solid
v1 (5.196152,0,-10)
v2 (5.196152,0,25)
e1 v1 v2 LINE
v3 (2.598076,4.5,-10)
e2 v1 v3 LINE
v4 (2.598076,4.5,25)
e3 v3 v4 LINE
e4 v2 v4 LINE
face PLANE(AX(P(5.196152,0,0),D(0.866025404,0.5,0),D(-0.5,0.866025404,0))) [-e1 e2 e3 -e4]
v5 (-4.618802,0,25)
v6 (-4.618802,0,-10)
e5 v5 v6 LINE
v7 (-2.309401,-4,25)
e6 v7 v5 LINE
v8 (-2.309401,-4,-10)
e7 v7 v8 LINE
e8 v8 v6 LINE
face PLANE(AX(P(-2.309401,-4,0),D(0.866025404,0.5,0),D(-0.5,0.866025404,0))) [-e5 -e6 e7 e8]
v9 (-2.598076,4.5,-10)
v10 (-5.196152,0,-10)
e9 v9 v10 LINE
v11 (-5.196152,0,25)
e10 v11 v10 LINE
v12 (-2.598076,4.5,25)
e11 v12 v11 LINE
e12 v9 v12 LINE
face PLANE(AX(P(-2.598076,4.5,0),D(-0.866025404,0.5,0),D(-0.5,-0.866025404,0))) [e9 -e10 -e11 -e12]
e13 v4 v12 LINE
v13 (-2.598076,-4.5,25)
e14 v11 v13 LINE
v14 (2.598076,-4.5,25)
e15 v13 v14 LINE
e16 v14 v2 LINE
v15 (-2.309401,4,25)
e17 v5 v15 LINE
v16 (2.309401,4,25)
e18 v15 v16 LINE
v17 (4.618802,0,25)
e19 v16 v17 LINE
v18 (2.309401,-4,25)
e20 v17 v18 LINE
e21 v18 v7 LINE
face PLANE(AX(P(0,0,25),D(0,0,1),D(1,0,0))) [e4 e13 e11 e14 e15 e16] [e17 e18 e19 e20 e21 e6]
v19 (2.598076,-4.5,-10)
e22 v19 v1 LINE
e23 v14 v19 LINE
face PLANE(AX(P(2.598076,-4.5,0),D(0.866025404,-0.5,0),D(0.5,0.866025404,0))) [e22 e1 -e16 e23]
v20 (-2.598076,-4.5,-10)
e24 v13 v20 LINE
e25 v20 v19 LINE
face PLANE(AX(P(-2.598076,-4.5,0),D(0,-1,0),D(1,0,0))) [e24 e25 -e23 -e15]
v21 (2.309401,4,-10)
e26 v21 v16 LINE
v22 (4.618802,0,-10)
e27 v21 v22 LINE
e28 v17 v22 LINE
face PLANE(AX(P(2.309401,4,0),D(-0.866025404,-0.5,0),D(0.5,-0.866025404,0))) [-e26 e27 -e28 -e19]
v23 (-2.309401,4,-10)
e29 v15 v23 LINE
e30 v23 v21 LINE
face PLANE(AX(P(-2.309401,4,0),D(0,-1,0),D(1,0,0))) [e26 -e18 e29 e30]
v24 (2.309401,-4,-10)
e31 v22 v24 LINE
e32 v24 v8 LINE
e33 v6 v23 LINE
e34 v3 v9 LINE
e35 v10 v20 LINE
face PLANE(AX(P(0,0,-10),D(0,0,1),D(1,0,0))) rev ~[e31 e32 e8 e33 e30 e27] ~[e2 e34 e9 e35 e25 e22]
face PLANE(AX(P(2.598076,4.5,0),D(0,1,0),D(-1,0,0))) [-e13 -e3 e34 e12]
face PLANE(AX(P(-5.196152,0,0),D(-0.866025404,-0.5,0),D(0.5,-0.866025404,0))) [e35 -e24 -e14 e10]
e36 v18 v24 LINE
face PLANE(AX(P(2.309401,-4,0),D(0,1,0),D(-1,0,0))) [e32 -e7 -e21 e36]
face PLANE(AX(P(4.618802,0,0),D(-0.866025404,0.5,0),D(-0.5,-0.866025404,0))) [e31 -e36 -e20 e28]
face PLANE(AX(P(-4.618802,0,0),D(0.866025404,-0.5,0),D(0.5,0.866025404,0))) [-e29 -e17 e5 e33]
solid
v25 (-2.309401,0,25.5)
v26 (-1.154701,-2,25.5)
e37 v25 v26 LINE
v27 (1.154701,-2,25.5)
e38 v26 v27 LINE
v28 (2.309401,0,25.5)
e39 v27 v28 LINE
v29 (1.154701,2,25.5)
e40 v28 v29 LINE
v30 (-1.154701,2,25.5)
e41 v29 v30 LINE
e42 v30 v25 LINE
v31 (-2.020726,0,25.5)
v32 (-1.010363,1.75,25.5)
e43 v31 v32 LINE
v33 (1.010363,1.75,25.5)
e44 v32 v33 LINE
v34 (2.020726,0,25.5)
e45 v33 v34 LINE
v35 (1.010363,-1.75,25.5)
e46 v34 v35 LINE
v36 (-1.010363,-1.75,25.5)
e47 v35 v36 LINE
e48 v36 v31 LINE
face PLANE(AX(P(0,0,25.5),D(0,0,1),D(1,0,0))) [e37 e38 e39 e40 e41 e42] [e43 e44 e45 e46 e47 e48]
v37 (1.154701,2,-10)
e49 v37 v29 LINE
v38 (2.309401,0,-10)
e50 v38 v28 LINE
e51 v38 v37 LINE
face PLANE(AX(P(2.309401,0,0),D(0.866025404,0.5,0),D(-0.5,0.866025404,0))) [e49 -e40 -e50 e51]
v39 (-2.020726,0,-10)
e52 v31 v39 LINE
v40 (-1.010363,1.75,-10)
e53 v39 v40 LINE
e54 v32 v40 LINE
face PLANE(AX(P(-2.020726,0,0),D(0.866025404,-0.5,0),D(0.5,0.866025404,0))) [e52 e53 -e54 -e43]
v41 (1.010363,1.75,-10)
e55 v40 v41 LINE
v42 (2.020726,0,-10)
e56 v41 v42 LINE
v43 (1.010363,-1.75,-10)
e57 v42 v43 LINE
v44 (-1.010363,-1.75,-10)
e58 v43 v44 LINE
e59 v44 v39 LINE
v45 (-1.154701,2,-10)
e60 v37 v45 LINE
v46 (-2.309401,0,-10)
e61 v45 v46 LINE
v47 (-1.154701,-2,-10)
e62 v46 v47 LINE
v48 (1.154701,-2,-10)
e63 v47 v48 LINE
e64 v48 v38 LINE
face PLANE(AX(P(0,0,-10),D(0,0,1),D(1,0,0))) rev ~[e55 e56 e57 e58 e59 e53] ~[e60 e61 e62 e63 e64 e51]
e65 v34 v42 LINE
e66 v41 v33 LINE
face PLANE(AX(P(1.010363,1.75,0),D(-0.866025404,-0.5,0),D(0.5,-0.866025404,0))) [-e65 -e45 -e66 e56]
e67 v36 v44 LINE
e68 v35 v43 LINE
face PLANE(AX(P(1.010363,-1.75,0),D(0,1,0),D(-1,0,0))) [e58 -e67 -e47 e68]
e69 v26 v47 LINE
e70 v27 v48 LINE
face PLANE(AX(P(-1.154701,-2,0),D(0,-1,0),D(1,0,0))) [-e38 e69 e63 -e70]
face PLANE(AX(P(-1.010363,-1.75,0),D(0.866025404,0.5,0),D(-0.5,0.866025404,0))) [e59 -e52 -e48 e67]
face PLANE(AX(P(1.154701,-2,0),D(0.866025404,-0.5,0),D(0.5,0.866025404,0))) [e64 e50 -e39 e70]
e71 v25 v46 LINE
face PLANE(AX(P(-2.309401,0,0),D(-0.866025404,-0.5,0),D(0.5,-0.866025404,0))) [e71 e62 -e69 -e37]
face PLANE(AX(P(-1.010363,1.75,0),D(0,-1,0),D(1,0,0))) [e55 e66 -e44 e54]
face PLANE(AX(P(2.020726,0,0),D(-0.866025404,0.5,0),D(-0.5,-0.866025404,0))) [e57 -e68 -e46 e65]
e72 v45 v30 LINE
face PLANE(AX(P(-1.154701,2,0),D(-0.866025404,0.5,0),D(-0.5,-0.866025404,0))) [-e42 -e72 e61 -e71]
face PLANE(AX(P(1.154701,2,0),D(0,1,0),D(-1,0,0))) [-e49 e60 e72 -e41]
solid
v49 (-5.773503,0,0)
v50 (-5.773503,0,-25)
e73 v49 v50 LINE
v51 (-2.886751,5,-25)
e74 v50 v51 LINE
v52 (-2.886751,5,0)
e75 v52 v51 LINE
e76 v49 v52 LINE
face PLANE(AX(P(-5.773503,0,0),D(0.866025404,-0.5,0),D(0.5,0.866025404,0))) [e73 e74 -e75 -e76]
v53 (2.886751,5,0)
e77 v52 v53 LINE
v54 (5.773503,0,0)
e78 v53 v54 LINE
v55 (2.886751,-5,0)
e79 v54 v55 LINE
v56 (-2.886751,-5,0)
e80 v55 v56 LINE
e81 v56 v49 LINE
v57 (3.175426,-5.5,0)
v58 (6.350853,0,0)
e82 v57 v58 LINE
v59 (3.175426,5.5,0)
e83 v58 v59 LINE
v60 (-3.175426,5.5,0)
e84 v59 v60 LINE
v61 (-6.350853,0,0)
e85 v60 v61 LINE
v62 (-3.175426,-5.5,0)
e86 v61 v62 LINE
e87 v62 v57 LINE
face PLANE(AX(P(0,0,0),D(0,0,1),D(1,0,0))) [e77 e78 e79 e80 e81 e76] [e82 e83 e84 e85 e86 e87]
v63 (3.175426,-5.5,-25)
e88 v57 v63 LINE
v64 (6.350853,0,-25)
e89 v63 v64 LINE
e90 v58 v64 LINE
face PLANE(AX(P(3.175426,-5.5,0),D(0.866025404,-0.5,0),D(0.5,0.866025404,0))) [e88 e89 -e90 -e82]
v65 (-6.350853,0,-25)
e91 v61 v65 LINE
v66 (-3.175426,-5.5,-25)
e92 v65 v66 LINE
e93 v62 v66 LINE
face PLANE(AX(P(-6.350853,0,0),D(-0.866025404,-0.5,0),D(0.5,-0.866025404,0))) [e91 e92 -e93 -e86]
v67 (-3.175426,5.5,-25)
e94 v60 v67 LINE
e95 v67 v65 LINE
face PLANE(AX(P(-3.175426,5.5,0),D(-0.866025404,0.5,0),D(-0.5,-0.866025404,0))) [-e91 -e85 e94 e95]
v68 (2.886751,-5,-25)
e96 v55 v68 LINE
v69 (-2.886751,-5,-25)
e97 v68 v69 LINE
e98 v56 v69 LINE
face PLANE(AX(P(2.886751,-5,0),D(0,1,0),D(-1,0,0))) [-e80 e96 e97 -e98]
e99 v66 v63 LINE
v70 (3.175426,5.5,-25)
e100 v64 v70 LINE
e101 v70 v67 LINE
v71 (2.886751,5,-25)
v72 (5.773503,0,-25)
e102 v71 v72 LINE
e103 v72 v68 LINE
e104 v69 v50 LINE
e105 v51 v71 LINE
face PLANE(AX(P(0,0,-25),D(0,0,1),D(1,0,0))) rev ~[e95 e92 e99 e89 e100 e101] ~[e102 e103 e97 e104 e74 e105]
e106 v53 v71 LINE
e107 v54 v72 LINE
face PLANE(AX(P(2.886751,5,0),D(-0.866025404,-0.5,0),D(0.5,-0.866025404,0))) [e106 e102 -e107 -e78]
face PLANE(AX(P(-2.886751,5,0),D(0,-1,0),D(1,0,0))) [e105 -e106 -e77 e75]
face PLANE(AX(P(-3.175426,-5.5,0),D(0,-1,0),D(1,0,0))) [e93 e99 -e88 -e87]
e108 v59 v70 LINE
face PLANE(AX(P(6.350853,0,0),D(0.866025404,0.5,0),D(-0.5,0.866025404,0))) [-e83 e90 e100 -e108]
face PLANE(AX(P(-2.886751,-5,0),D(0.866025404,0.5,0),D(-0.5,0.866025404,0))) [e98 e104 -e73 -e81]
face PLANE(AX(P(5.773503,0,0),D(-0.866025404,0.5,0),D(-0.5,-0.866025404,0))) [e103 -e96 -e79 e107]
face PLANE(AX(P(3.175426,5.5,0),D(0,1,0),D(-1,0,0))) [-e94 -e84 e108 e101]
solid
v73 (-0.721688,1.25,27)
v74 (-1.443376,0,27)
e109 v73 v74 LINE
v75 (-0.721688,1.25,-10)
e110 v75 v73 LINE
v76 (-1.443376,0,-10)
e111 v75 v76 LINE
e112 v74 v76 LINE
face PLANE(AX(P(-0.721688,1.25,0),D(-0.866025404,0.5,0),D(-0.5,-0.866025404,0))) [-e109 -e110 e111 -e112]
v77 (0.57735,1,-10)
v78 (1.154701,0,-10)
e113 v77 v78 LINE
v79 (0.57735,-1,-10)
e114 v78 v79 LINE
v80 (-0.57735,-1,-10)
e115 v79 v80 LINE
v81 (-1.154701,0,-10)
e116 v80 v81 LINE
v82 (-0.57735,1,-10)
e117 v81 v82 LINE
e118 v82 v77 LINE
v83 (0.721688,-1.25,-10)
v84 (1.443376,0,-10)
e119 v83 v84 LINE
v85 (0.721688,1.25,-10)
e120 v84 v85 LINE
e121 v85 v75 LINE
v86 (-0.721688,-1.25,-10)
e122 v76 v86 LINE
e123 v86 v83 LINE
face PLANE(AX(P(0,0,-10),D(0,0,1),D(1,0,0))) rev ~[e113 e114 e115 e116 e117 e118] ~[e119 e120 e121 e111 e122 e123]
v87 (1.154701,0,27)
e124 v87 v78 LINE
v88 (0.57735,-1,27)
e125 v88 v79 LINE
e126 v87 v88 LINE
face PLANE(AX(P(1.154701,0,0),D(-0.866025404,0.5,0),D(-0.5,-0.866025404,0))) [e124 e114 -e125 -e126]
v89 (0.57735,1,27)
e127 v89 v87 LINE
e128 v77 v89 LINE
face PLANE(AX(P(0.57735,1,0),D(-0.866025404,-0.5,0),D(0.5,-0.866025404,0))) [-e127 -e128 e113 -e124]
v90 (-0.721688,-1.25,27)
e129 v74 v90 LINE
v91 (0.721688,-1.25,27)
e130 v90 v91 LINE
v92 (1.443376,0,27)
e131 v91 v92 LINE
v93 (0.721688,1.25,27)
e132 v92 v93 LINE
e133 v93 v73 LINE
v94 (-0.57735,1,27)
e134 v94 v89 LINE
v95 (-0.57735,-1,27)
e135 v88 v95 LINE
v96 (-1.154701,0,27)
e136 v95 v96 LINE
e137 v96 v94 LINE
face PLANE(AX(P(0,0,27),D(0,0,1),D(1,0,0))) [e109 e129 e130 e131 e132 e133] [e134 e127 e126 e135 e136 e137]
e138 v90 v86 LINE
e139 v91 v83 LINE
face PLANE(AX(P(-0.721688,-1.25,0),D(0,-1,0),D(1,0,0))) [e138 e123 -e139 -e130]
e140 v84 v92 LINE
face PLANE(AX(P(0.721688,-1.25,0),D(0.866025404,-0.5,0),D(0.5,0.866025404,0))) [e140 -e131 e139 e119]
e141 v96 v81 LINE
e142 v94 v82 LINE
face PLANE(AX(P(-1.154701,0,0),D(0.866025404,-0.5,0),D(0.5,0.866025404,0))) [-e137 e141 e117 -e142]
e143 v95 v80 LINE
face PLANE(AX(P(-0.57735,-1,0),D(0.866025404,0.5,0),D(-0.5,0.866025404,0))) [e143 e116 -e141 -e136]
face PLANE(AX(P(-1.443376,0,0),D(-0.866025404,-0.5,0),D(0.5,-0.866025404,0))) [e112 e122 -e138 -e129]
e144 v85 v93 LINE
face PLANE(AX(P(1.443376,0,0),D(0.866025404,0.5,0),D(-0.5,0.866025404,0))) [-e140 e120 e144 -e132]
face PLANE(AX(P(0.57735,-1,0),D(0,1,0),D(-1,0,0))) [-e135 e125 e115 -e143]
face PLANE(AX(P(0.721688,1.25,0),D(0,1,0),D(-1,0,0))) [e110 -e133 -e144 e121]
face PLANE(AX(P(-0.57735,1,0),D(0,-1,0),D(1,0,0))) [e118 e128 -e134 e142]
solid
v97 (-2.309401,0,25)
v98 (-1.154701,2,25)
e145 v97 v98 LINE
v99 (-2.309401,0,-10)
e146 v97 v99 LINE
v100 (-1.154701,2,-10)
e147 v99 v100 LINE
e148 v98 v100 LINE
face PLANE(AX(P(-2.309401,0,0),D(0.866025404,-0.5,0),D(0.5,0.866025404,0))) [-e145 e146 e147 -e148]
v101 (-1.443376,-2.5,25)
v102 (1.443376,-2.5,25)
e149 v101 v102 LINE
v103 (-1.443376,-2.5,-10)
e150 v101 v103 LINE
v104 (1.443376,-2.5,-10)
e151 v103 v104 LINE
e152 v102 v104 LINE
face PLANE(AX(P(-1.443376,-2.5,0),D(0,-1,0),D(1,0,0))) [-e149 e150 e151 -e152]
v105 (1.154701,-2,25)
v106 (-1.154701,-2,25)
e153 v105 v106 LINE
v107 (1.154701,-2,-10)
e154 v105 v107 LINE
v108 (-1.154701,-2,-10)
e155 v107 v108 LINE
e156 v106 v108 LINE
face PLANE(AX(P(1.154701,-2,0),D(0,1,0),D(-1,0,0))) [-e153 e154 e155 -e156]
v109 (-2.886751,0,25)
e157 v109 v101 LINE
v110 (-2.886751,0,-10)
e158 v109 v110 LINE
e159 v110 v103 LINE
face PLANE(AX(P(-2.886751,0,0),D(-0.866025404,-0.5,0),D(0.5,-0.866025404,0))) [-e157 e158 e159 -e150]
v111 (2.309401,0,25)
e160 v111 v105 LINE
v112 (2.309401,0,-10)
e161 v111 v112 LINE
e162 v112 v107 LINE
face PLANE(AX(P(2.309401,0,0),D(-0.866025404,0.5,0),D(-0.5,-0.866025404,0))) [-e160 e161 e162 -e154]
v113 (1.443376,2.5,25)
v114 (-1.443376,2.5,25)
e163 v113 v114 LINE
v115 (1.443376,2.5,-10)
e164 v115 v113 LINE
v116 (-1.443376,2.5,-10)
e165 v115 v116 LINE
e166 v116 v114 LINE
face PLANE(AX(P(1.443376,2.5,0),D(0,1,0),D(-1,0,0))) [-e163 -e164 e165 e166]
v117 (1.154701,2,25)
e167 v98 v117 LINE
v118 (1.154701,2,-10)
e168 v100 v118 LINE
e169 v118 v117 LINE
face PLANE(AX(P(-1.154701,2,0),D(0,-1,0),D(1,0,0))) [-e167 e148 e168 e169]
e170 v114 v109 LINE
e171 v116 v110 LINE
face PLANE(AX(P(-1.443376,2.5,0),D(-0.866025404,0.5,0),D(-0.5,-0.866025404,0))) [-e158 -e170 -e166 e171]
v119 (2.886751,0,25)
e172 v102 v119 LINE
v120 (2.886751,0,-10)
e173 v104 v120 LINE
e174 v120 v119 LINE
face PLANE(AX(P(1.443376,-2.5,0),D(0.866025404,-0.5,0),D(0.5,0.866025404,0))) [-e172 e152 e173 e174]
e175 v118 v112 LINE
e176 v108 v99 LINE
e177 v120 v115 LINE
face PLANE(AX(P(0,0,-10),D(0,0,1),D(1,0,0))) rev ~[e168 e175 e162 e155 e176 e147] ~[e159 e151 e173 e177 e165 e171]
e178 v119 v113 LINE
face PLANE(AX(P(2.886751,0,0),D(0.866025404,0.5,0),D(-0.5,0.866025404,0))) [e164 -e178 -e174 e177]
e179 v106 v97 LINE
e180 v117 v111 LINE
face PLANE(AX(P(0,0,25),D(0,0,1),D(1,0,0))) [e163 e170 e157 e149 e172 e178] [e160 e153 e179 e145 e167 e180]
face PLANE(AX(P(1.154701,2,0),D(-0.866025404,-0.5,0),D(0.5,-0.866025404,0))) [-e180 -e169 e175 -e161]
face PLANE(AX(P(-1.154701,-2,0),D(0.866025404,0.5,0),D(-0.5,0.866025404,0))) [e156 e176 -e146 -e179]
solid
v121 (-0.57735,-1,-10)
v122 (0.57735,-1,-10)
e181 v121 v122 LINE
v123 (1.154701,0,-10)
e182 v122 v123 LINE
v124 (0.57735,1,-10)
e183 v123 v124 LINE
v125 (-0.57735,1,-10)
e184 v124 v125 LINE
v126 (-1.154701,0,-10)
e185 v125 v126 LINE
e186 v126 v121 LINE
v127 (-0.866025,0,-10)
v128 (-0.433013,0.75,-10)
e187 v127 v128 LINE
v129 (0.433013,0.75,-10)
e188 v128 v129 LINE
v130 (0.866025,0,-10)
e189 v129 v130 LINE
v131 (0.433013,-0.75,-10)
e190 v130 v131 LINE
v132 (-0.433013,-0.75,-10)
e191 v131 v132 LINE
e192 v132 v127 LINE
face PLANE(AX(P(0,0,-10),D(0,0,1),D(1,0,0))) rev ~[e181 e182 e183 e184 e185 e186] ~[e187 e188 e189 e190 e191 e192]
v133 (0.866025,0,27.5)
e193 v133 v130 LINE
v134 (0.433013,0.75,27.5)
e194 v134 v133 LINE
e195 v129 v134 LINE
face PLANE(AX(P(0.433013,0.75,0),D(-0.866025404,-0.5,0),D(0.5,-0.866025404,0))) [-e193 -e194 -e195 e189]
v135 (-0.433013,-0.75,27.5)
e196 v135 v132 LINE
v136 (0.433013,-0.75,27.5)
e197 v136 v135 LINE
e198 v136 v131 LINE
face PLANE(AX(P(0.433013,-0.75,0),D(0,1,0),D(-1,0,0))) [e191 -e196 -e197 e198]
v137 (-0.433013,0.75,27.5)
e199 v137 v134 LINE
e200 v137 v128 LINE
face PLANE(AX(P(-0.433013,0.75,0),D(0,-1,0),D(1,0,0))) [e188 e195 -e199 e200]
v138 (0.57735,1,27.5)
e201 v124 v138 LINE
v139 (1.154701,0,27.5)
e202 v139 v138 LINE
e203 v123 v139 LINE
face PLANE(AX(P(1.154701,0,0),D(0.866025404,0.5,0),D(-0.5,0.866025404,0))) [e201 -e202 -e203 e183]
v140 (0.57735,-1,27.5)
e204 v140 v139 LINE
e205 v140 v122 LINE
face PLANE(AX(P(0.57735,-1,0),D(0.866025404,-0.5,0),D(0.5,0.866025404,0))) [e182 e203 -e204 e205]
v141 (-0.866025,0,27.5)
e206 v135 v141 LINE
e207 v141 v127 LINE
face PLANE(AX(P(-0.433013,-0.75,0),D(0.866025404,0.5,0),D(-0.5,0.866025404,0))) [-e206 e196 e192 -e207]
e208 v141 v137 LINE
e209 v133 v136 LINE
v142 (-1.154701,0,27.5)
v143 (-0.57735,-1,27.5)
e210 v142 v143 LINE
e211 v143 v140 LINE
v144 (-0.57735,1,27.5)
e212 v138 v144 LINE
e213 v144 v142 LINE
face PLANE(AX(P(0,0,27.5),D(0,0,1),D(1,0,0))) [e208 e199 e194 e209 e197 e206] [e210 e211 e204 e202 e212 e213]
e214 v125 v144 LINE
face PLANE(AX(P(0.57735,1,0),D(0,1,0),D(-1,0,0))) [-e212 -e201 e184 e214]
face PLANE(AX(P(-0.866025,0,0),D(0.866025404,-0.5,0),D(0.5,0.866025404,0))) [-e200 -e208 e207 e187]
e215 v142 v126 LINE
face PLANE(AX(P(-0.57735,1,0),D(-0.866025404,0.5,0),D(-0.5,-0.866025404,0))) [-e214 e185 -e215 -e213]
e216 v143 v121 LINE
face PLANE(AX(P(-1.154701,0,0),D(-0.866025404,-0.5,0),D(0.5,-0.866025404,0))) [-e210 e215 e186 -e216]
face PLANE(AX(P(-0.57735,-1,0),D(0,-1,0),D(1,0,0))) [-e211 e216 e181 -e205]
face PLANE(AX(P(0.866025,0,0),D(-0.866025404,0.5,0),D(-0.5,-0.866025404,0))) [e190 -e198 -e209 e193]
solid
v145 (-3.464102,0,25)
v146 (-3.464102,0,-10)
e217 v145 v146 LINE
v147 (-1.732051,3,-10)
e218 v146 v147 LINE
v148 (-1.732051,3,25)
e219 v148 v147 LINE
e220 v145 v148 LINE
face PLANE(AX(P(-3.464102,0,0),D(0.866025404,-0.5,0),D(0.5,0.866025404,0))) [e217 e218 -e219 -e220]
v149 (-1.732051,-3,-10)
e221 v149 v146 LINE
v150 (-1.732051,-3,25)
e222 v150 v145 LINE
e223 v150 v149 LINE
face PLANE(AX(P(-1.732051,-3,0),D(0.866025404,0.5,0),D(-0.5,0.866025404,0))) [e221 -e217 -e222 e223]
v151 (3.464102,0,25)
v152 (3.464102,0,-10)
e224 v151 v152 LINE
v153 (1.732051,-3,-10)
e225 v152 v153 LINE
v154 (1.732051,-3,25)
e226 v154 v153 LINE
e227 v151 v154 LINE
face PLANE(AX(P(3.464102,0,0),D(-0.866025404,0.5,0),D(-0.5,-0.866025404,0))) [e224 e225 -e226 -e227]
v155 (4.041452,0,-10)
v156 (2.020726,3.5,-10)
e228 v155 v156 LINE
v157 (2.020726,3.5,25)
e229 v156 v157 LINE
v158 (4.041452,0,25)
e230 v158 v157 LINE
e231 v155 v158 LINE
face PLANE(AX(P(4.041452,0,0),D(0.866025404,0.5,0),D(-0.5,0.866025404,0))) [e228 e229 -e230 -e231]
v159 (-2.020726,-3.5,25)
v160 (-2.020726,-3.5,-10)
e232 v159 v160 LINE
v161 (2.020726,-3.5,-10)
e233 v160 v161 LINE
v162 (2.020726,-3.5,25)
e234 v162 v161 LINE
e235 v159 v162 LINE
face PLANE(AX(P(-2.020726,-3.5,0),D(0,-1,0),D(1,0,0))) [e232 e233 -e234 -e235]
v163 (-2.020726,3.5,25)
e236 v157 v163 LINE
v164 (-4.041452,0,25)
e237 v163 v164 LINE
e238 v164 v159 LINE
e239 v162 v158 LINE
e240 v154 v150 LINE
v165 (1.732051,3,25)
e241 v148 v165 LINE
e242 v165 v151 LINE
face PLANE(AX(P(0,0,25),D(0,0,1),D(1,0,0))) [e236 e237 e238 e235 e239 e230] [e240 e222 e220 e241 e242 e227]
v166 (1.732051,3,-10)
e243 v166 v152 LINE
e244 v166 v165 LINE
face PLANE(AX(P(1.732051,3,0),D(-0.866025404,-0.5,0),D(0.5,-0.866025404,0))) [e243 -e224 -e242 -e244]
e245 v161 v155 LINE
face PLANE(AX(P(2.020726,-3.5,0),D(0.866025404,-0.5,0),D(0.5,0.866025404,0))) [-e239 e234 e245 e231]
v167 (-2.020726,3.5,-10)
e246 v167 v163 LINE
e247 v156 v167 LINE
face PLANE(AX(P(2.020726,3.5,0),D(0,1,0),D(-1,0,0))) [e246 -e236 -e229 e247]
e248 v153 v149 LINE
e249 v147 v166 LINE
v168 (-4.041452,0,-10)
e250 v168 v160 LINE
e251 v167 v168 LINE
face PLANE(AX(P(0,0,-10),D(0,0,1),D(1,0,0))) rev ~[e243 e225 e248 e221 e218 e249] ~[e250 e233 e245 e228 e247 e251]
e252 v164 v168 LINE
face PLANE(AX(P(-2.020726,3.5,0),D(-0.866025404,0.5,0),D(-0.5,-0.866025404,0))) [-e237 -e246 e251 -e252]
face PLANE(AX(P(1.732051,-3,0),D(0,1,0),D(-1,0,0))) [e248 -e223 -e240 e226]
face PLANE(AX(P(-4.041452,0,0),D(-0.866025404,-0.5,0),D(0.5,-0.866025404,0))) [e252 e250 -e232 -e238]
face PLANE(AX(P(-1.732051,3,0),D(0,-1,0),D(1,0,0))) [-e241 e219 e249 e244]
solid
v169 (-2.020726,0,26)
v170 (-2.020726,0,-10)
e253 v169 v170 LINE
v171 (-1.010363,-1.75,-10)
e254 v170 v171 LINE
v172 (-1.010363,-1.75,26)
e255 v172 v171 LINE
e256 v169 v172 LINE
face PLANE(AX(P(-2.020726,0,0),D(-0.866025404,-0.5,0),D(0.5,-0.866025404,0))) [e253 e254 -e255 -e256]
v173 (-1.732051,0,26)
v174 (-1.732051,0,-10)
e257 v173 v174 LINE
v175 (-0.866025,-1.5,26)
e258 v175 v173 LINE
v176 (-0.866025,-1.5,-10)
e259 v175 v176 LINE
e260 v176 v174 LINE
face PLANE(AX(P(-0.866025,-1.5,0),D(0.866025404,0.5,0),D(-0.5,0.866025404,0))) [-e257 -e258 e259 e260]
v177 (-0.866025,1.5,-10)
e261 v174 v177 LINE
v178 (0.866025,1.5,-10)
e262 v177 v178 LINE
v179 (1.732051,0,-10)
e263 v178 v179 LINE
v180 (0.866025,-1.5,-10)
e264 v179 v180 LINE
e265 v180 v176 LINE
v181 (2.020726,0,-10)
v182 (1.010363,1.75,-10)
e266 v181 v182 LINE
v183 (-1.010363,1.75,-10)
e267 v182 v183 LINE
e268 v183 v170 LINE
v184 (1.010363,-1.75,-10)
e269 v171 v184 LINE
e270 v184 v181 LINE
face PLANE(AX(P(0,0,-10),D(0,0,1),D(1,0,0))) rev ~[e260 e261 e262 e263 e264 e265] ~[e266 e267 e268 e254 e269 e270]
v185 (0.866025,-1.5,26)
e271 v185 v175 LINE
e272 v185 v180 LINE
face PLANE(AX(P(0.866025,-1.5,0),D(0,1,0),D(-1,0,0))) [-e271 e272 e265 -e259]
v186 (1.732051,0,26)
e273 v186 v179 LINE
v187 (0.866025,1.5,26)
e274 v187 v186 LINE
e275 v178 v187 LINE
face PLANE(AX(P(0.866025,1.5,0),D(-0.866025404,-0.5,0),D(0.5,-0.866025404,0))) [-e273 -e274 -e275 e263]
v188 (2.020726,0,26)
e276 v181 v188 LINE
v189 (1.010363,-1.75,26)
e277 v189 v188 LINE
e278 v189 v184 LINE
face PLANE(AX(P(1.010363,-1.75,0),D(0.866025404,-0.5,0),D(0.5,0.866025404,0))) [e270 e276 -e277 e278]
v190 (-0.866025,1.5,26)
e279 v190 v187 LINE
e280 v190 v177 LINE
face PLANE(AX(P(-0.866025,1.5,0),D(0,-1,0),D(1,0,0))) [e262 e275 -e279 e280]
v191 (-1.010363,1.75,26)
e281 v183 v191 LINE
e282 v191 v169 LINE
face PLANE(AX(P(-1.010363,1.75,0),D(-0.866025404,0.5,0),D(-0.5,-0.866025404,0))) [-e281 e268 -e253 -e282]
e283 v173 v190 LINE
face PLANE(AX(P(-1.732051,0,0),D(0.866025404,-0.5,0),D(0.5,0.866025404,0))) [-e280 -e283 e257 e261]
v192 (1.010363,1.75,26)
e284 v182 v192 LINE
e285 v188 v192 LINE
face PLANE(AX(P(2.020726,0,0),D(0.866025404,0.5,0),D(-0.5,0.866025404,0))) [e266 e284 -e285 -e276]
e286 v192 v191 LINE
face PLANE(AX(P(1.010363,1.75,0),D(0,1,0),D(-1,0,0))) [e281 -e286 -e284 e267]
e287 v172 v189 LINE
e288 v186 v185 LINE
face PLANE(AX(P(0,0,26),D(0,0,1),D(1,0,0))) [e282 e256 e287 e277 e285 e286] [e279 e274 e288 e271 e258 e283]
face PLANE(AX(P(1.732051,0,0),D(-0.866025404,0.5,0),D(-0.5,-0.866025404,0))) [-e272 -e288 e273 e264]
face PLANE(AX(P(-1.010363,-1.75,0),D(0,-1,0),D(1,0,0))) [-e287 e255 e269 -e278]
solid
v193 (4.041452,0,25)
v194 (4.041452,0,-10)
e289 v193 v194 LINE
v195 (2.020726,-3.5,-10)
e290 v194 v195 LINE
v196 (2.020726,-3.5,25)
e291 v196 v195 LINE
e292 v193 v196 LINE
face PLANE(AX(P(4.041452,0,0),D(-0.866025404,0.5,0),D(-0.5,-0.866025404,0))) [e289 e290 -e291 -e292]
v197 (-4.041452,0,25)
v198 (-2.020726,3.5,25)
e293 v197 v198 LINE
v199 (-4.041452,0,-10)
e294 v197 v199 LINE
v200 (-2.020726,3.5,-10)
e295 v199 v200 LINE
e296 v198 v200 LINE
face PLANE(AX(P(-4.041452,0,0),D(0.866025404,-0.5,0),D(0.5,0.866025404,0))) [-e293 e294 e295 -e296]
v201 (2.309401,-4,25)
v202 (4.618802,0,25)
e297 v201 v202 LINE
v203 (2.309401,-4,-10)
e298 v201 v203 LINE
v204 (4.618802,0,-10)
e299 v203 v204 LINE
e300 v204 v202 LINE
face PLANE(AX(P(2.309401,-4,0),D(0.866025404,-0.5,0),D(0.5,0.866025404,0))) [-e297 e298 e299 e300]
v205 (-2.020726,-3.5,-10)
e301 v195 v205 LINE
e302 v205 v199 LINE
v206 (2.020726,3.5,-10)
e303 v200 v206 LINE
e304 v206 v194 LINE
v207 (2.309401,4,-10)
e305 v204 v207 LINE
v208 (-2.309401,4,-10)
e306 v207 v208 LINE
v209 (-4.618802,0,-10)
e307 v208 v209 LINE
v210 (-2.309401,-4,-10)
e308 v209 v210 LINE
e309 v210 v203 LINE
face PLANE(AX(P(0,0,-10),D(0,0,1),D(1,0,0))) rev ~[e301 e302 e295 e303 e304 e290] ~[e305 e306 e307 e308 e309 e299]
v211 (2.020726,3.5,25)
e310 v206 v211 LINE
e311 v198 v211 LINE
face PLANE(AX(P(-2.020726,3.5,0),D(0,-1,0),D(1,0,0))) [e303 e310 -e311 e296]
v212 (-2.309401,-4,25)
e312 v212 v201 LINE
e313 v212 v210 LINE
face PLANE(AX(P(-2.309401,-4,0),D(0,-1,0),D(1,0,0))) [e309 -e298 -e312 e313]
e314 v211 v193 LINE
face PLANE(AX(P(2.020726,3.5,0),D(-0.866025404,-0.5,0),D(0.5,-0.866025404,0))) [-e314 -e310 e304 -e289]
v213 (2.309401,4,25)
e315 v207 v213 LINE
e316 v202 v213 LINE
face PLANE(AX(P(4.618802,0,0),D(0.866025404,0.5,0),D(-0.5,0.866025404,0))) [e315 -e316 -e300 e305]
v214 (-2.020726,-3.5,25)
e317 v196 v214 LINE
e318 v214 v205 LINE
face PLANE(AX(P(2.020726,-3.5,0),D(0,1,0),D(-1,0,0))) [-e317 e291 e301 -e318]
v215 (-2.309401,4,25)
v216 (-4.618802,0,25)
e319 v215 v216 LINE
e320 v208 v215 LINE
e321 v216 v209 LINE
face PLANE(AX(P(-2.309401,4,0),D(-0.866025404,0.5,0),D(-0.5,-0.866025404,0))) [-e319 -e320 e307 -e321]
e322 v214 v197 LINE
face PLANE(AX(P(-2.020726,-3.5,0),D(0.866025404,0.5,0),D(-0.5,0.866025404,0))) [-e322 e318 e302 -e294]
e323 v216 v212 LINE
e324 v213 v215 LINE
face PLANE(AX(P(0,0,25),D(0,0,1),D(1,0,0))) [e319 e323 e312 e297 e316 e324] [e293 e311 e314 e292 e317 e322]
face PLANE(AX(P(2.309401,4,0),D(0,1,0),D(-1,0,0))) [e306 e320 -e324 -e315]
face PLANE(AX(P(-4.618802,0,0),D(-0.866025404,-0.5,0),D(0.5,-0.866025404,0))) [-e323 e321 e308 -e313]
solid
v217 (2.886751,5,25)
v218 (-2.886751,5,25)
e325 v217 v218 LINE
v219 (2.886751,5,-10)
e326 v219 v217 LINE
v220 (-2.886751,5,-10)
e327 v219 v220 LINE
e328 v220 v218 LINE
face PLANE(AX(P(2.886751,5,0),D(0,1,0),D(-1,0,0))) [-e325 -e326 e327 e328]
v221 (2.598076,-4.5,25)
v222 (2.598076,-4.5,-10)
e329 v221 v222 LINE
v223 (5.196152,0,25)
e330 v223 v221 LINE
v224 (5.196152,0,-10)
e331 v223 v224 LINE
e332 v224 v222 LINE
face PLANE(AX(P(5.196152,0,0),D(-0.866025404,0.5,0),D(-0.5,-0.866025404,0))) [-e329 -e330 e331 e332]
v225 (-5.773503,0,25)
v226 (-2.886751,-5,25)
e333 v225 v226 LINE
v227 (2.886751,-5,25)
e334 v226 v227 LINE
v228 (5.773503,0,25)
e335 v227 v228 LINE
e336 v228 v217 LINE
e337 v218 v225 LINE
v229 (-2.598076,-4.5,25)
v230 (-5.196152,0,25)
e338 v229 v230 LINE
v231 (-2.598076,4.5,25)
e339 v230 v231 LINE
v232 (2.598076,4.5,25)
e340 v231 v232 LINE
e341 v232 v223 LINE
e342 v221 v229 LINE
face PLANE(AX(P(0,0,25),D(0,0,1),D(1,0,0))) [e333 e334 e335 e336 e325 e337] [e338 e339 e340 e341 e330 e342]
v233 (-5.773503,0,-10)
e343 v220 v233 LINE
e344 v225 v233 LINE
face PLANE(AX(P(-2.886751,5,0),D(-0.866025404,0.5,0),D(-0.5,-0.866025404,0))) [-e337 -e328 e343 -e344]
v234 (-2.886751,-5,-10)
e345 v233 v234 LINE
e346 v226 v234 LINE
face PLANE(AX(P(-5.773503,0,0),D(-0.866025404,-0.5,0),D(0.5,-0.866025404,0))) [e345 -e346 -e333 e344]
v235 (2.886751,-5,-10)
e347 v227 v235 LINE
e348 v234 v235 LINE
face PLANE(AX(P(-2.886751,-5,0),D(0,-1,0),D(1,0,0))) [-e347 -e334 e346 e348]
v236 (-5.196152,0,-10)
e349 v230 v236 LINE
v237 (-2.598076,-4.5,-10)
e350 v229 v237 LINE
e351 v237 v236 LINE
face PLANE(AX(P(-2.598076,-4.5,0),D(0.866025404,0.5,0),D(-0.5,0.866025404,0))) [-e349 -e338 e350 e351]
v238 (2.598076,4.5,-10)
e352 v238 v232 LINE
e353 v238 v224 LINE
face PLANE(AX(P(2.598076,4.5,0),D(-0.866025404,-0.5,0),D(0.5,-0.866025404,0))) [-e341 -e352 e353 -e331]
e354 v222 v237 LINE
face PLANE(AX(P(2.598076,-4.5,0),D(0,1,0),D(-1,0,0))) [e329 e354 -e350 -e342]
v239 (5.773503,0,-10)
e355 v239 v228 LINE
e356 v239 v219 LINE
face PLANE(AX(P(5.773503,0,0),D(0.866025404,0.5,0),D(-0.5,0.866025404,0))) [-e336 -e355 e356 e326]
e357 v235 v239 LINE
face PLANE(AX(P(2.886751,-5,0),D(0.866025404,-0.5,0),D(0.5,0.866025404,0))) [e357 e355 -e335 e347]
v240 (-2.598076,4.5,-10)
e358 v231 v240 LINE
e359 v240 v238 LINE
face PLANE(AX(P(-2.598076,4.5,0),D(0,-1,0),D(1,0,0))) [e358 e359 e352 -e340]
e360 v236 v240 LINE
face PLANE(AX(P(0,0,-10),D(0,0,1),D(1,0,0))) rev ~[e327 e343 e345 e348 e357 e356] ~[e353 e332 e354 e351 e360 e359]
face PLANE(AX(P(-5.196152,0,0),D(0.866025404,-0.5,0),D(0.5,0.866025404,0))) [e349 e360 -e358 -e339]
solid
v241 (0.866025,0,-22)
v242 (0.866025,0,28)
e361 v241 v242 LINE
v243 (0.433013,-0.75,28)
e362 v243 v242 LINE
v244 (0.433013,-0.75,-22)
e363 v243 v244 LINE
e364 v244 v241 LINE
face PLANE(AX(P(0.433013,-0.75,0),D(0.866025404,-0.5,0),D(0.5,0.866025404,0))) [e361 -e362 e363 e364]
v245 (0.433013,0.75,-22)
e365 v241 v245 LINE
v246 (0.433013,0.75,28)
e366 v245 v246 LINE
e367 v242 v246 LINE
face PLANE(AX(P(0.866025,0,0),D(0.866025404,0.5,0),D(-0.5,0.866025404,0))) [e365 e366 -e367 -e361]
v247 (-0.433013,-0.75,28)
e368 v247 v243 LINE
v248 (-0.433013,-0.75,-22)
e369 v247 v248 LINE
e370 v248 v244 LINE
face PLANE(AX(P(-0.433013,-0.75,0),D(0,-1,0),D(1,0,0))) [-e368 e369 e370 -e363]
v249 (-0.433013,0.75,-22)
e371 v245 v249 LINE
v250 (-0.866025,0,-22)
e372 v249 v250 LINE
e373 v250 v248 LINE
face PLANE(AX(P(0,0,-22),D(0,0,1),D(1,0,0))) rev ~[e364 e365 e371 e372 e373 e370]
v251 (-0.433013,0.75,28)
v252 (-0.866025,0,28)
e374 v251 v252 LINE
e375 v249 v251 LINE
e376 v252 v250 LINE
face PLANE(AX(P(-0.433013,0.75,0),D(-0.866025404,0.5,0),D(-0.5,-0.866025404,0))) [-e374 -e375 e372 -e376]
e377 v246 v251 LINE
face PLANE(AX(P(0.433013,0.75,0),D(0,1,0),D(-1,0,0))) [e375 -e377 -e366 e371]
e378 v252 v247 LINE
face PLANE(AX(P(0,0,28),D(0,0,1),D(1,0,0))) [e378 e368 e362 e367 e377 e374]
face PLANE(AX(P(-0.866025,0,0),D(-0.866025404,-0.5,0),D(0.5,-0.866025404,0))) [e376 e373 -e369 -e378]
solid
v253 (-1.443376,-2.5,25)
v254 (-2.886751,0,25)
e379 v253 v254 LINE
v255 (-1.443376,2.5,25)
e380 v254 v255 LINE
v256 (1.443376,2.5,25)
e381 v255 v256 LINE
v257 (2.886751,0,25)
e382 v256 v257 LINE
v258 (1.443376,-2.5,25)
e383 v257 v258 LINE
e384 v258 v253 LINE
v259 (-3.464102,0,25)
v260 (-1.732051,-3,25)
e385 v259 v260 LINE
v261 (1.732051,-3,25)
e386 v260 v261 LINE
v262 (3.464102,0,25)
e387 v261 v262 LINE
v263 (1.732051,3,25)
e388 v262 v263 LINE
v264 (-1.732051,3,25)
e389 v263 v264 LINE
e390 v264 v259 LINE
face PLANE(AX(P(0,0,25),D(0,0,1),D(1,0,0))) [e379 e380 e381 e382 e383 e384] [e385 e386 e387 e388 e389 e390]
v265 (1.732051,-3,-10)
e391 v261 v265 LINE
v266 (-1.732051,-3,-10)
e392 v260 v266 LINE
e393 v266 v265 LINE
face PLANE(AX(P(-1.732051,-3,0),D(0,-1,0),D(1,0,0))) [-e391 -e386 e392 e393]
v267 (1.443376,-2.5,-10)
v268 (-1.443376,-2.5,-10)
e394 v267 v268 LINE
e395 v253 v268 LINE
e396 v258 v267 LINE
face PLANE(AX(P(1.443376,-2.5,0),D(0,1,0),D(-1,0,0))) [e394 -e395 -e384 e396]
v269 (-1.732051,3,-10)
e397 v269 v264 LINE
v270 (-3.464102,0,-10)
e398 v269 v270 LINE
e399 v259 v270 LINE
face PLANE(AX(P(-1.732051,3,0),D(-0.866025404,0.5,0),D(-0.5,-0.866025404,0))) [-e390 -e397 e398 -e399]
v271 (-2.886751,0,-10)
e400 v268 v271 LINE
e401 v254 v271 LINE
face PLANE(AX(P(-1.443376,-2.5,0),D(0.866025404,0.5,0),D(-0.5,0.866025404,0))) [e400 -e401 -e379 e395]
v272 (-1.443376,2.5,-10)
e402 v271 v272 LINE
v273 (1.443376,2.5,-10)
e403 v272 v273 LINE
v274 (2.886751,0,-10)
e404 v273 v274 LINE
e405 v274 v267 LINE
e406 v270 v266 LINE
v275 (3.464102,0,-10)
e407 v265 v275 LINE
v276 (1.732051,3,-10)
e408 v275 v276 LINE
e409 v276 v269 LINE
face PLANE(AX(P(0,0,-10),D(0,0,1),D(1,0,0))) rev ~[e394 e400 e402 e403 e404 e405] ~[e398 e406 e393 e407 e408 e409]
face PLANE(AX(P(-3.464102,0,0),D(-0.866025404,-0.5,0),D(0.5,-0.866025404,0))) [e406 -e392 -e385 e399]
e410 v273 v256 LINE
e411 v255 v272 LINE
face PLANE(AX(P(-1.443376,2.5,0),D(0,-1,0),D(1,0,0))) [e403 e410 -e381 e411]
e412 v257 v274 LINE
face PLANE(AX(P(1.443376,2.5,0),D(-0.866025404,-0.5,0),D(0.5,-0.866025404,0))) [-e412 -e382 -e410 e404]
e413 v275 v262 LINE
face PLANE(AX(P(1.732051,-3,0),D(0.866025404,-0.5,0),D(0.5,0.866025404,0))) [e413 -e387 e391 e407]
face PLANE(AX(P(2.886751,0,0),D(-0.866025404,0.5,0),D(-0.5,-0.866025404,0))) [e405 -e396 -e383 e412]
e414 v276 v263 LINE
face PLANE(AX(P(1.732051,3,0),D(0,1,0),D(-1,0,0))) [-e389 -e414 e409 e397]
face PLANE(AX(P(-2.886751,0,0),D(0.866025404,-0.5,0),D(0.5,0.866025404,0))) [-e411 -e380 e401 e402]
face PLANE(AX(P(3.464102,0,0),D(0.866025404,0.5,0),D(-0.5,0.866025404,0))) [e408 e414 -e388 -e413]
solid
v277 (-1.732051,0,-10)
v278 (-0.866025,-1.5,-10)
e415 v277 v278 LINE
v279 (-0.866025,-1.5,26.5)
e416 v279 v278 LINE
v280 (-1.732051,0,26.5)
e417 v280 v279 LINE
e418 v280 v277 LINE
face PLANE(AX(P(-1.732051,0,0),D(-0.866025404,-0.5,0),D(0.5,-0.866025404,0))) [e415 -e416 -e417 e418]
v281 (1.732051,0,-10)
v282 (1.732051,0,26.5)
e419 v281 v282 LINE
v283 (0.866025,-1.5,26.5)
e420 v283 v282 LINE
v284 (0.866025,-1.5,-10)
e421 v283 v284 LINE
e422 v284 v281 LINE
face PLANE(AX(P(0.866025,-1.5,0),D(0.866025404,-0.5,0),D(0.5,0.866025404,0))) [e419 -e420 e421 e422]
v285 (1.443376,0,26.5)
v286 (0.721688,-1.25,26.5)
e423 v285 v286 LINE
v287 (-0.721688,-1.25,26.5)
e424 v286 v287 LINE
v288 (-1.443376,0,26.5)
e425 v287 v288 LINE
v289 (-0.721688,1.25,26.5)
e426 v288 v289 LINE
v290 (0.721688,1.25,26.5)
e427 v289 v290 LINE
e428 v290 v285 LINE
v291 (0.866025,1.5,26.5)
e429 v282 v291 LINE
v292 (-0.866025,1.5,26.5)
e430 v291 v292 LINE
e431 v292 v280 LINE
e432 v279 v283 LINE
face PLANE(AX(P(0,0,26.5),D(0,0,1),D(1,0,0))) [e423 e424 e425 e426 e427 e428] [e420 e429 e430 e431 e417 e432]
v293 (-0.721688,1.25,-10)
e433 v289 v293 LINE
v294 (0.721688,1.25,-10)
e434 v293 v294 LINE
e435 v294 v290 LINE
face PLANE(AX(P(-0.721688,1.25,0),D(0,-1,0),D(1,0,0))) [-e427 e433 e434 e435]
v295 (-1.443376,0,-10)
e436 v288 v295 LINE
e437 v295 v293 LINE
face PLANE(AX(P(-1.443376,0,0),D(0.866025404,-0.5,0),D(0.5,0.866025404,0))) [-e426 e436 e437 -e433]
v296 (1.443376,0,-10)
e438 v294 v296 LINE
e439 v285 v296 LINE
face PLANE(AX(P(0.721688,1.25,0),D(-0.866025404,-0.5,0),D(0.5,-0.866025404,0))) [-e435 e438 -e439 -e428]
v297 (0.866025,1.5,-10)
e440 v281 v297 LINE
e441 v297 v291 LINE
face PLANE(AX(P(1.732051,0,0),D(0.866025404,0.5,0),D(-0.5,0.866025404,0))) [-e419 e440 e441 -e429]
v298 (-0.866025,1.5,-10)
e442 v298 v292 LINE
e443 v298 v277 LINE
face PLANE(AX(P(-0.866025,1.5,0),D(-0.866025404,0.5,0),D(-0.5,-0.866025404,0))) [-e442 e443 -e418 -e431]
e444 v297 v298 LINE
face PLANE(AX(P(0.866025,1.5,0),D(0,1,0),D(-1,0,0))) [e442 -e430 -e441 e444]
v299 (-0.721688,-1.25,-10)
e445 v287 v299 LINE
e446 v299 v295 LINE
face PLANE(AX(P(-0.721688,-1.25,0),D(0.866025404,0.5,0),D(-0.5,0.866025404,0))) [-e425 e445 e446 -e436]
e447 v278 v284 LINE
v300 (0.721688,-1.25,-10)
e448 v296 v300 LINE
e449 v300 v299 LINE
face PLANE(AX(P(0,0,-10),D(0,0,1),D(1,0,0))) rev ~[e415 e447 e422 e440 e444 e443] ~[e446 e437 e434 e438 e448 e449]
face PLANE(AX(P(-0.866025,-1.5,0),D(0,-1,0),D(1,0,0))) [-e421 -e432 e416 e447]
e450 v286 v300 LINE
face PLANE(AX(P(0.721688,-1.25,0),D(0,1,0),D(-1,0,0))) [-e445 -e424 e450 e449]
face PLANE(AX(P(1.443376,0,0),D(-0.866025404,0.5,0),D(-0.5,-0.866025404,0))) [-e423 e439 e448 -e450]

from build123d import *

# Parameters (mm, degrees)
F1_DEPTH       = 25
F2_DEPTH       = 28
F2_DEPTH_BACK  = 22
F3_DEPTH       = 27.5
F3_DEPTH_BACK  = 10
F4_DEPTH       = 27
F4_DEPTH_BACK  = 10
F5_DEPTH       = 26.5
F5_DEPTH_BACK  = 10
F6_DEPTH       = 26
F6_DEPTH_BACK  = 10
F7_DEPTH       = 25.5
F7_DEPTH_BACK  = 10
F8_DEPTH       = 25
F8_DEPTH_BACK  = 10
F9_DEPTH       = 25
F9_DEPTH_BACK  = 10
F10_DEPTH      = 25
F10_DEPTH_BACK = 10
F11_DEPTH      = 25
F11_DEPTH_BACK = 10
F12_DEPTH      = 25
F12_DEPTH_BACK = 10
F13_DEPTH      = 25
F13_DEPTH_BACK = 10


with BuildPart() as f1:
    # F0 (on Top) → F1 (new body)
    with BuildSketch(Plane.XY):
        Polygon((3.1754264805, -5.5), (6.3508529611, 0), (3.1754264805, 5.5), (-3.1754264805, 5.5), (-6.3508529611, 0), (-3.1754264805, -5.5), align=None)
        Polygon((2.8867513459, 5), (5.7735026919, 0), (2.8867513459, -5), (-2.8867513459, -5), (-5.7735026919, 0), (-2.8867513459, 5), align=None, mode=Mode.SUBTRACT)
    extrude(amount=-F1_DEPTH)


with BuildPart() as f2:
    # F0 (on Top) → F2 (new body, two sides)
    with BuildSketch(Plane.XY) as f2_sk:
        Polygon((0.4330127019, -0.75), (0.8660254038, 0), (0.4330127019, 0.75), (-0.4330127019, 0.75), (-0.8660254038, 0), (-0.4330127019, -0.75), align=None)
    extrude(amount=F2_DEPTH)
    extrude(f2_sk.sketch, amount=-F2_DEPTH_BACK)


with BuildPart() as f3:
    # F0 (on Top) → F3 (new body, two sides)
    with BuildSketch(Plane.XY) as f3_sk:
        Polygon((0.5773502692, -1), (1.1547005384, 0), (0.5773502692, 1), (-0.5773502692, 1), (-1.1547005384, 0), (-0.5773502692, -1), align=None)
        Polygon((0.4330127019, 0.75), (0.8660254038, 0), (0.4330127019, -0.75), (-0.4330127019, -0.75), (-0.8660254038, 0), (-0.4330127019, 0.75), align=None, mode=Mode.SUBTRACT)
    extrude(amount=F3_DEPTH)
    extrude(f3_sk.sketch, amount=-F3_DEPTH_BACK)


with BuildPart() as f4:
    # F0 (on Top) → F4 (new body, two sides)
    with BuildSketch(Plane.XY) as f4_sk:
        Polygon((0.7216878365, -1.25), (1.443375673, 0), (0.7216878365, 1.25), (-0.7216878365, 1.25), (-1.443375673, 0), (-0.7216878365, -1.25), align=None)
        Polygon((0.5773502692, 1), (1.1547005384, 0), (0.5773502692, -1), (-0.5773502692, -1), (-1.1547005384, 0), (-0.5773502692, 1), align=None, mode=Mode.SUBTRACT)
    extrude(amount=F4_DEPTH)
    extrude(f4_sk.sketch, amount=-F4_DEPTH_BACK)


with BuildPart() as f5:
    # F0 (on Top) → F5 (new body, two sides)
    with BuildSketch(Plane.XY) as f5_sk:
        Polygon((0.8660254038, -1.5), (1.7320508076, 0), (0.8660254038, 1.5), (-0.8660254038, 1.5), (-1.7320508076, 0), (-0.8660254038, -1.5), align=None)
        Polygon((0.7216878365, 1.25), (1.443375673, 0), (0.7216878365, -1.25), (-0.7216878365, -1.25), (-1.443375673, 0), (-0.7216878365, 1.25), align=None, mode=Mode.SUBTRACT)
    extrude(amount=F5_DEPTH)
    extrude(f5_sk.sketch, amount=-F5_DEPTH_BACK)


with BuildPart() as f6:
    # F0 (on Top) → F6 (new body, two sides)
    with BuildSketch(Plane.XY) as f6_sk:
        Polygon((1.0103629711, -1.75), (2.0207259422, 0), (1.0103629711, 1.75), (-1.0103629711, 1.75), (-2.0207259422, 0), (-1.0103629711, -1.75), align=None)
        Polygon((0.8660254038, 1.5), (1.7320508076, 0), (0.8660254038, -1.5), (-0.8660254038, -1.5), (-1.7320508076, 0), (-0.8660254038, 1.5), align=None, mode=Mode.SUBTRACT)
    extrude(amount=F6_DEPTH)
    extrude(f6_sk.sketch, amount=-F6_DEPTH_BACK)


with BuildPart() as f7:
    # F0 (on Top) → F7 (new body, two sides)
    with BuildSketch(Plane.XY) as f7_sk:
        Polygon((1.1547005384, -2), (2.3094010768, 0), (1.1547005384, 2), (-1.1547005384, 2), (-2.3094010768, 0), (-1.1547005384, -2), align=None)
        Polygon((1.0103629711, 1.75), (2.0207259422, 0), (1.0103629711, -1.75), (-1.0103629711, -1.75), (-2.0207259422, 0), (-1.0103629711, 1.75), align=None, mode=Mode.SUBTRACT)
    extrude(amount=F7_DEPTH)
    extrude(f7_sk.sketch, amount=-F7_DEPTH_BACK)


with BuildPart() as f8:
    # F0 (on Top) → F8 (new body, two sides)
    with BuildSketch(Plane.XY) as f8_sk:
        Polygon((1.443375673, -2.5), (2.8867513459, 0), (1.443375673, 2.5), (-1.443375673, 2.5), (-2.8867513459, 0), (-1.443375673, -2.5), align=None)
        Polygon((1.1547005384, 2), (2.3094010768, 0), (1.1547005384, -2), (-1.1547005384, -2), (-2.3094010768, 0), (-1.1547005384, 2), align=None, mode=Mode.SUBTRACT)
    extrude(amount=F8_DEPTH)
    extrude(f8_sk.sketch, amount=-F8_DEPTH_BACK)


with BuildPart() as f9:
    # F0 (on Top) → F9 (new body, two sides)
    with BuildSketch(Plane.XY) as f9_sk:
        Polygon((1.7320508076, -3), (3.4641016151, 0), (1.7320508076, 3), (-1.7320508076, 3), (-3.4641016151, 0), (-1.7320508076, -3), align=None)
        Polygon((1.443375673, 2.5), (2.8867513459, 0), (1.443375673, -2.5), (-1.443375673, -2.5), (-2.8867513459, 0), (-1.443375673, 2.5), align=None, mode=Mode.SUBTRACT)
    extrude(amount=F9_DEPTH)
    extrude(f9_sk.sketch, amount=-F9_DEPTH_BACK)


with BuildPart() as f10:
    # F0 (on Top) → F10 (new body, two sides)
    with BuildSketch(Plane.XY) as f10_sk:
        Polygon((2.0207259422, -3.5), (4.0414518843, 0), (2.0207259422, 3.5), (-2.0207259422, 3.5), (-4.0414518843, 0), (-2.0207259422, -3.5), align=None)
        Polygon((1.7320508076, 3), (3.4641016151, 0), (1.7320508076, -3), (-1.7320508076, -3), (-3.4641016151, 0), (-1.7320508076, 3), align=None, mode=Mode.SUBTRACT)
    extrude(amount=F10_DEPTH)
    extrude(f10_sk.sketch, amount=-F10_DEPTH_BACK)


with BuildPart() as f11:
    # F0 (on Top) → F11 (new body, two sides)
    with BuildSketch(Plane.XY) as f11_sk:
        Polygon((2.3094010768, -4), (4.6188021535, 0), (2.3094010768, 4), (-2.3094010768, 4), (-4.6188021535, 0), (-2.3094010768, -4), align=None)
        Polygon((2.0207259422, 3.5), (4.0414518843, 0), (2.0207259422, -3.5), (-2.0207259422, -3.5), (-4.0414518843, 0), (-2.0207259422, 3.5), align=None, mode=Mode.SUBTRACT)
    extrude(amount=F11_DEPTH)
    extrude(f11_sk.sketch, amount=-F11_DEPTH_BACK)


with BuildPart() as f12:
    # F0 (on Top) → F12 (new body, two sides)
    with BuildSketch(Plane.XY) as f12_sk:
        Polygon((2.5980762114, -4.5), (5.1961524227, 0), (2.5980762114, 4.5), (-2.5980762114, 4.5), (-5.1961524227, 0), (-2.5980762114, -4.5), align=None)
        Polygon((2.3094010768, 4), (4.6188021535, 0), (2.3094010768, -4), (-2.3094010768, -4), (-4.6188021535, 0), (-2.3094010768, 4), align=None, mode=Mode.SUBTRACT)
    extrude(amount=F12_DEPTH)
    extrude(f12_sk.sketch, amount=-F12_DEPTH_BACK)


with BuildPart() as f13:
    # F0 (on Top) → F13 (new body, two sides)
    with BuildSketch(Plane.XY) as f13_sk:
        Polygon((2.8867513459, -5), (5.7735026919, 0), (2.8867513459, 5), (-2.8867513459, 5), (-5.7735026919, 0), (-2.8867513459, -5), align=None)
        Polygon((2.5980762114, 4.5), (5.1961524227, 0), (2.5980762114, -4.5), (-2.5980762114, -4.5), (-5.1961524227, 0), (-2.5980762114, 4.5), align=None, mode=Mode.SUBTRACT)
    extrude(amount=F13_DEPTH)
    extrude(f13_sk.sketch, amount=-F13_DEPTH_BACK)


solid = Compound([f1.part, f2.part, f3.part, f4.part, f5.part, f6.part, f7.part, f8.part, f9.part, f10.part, f11.part, f12.part, f13.part])
